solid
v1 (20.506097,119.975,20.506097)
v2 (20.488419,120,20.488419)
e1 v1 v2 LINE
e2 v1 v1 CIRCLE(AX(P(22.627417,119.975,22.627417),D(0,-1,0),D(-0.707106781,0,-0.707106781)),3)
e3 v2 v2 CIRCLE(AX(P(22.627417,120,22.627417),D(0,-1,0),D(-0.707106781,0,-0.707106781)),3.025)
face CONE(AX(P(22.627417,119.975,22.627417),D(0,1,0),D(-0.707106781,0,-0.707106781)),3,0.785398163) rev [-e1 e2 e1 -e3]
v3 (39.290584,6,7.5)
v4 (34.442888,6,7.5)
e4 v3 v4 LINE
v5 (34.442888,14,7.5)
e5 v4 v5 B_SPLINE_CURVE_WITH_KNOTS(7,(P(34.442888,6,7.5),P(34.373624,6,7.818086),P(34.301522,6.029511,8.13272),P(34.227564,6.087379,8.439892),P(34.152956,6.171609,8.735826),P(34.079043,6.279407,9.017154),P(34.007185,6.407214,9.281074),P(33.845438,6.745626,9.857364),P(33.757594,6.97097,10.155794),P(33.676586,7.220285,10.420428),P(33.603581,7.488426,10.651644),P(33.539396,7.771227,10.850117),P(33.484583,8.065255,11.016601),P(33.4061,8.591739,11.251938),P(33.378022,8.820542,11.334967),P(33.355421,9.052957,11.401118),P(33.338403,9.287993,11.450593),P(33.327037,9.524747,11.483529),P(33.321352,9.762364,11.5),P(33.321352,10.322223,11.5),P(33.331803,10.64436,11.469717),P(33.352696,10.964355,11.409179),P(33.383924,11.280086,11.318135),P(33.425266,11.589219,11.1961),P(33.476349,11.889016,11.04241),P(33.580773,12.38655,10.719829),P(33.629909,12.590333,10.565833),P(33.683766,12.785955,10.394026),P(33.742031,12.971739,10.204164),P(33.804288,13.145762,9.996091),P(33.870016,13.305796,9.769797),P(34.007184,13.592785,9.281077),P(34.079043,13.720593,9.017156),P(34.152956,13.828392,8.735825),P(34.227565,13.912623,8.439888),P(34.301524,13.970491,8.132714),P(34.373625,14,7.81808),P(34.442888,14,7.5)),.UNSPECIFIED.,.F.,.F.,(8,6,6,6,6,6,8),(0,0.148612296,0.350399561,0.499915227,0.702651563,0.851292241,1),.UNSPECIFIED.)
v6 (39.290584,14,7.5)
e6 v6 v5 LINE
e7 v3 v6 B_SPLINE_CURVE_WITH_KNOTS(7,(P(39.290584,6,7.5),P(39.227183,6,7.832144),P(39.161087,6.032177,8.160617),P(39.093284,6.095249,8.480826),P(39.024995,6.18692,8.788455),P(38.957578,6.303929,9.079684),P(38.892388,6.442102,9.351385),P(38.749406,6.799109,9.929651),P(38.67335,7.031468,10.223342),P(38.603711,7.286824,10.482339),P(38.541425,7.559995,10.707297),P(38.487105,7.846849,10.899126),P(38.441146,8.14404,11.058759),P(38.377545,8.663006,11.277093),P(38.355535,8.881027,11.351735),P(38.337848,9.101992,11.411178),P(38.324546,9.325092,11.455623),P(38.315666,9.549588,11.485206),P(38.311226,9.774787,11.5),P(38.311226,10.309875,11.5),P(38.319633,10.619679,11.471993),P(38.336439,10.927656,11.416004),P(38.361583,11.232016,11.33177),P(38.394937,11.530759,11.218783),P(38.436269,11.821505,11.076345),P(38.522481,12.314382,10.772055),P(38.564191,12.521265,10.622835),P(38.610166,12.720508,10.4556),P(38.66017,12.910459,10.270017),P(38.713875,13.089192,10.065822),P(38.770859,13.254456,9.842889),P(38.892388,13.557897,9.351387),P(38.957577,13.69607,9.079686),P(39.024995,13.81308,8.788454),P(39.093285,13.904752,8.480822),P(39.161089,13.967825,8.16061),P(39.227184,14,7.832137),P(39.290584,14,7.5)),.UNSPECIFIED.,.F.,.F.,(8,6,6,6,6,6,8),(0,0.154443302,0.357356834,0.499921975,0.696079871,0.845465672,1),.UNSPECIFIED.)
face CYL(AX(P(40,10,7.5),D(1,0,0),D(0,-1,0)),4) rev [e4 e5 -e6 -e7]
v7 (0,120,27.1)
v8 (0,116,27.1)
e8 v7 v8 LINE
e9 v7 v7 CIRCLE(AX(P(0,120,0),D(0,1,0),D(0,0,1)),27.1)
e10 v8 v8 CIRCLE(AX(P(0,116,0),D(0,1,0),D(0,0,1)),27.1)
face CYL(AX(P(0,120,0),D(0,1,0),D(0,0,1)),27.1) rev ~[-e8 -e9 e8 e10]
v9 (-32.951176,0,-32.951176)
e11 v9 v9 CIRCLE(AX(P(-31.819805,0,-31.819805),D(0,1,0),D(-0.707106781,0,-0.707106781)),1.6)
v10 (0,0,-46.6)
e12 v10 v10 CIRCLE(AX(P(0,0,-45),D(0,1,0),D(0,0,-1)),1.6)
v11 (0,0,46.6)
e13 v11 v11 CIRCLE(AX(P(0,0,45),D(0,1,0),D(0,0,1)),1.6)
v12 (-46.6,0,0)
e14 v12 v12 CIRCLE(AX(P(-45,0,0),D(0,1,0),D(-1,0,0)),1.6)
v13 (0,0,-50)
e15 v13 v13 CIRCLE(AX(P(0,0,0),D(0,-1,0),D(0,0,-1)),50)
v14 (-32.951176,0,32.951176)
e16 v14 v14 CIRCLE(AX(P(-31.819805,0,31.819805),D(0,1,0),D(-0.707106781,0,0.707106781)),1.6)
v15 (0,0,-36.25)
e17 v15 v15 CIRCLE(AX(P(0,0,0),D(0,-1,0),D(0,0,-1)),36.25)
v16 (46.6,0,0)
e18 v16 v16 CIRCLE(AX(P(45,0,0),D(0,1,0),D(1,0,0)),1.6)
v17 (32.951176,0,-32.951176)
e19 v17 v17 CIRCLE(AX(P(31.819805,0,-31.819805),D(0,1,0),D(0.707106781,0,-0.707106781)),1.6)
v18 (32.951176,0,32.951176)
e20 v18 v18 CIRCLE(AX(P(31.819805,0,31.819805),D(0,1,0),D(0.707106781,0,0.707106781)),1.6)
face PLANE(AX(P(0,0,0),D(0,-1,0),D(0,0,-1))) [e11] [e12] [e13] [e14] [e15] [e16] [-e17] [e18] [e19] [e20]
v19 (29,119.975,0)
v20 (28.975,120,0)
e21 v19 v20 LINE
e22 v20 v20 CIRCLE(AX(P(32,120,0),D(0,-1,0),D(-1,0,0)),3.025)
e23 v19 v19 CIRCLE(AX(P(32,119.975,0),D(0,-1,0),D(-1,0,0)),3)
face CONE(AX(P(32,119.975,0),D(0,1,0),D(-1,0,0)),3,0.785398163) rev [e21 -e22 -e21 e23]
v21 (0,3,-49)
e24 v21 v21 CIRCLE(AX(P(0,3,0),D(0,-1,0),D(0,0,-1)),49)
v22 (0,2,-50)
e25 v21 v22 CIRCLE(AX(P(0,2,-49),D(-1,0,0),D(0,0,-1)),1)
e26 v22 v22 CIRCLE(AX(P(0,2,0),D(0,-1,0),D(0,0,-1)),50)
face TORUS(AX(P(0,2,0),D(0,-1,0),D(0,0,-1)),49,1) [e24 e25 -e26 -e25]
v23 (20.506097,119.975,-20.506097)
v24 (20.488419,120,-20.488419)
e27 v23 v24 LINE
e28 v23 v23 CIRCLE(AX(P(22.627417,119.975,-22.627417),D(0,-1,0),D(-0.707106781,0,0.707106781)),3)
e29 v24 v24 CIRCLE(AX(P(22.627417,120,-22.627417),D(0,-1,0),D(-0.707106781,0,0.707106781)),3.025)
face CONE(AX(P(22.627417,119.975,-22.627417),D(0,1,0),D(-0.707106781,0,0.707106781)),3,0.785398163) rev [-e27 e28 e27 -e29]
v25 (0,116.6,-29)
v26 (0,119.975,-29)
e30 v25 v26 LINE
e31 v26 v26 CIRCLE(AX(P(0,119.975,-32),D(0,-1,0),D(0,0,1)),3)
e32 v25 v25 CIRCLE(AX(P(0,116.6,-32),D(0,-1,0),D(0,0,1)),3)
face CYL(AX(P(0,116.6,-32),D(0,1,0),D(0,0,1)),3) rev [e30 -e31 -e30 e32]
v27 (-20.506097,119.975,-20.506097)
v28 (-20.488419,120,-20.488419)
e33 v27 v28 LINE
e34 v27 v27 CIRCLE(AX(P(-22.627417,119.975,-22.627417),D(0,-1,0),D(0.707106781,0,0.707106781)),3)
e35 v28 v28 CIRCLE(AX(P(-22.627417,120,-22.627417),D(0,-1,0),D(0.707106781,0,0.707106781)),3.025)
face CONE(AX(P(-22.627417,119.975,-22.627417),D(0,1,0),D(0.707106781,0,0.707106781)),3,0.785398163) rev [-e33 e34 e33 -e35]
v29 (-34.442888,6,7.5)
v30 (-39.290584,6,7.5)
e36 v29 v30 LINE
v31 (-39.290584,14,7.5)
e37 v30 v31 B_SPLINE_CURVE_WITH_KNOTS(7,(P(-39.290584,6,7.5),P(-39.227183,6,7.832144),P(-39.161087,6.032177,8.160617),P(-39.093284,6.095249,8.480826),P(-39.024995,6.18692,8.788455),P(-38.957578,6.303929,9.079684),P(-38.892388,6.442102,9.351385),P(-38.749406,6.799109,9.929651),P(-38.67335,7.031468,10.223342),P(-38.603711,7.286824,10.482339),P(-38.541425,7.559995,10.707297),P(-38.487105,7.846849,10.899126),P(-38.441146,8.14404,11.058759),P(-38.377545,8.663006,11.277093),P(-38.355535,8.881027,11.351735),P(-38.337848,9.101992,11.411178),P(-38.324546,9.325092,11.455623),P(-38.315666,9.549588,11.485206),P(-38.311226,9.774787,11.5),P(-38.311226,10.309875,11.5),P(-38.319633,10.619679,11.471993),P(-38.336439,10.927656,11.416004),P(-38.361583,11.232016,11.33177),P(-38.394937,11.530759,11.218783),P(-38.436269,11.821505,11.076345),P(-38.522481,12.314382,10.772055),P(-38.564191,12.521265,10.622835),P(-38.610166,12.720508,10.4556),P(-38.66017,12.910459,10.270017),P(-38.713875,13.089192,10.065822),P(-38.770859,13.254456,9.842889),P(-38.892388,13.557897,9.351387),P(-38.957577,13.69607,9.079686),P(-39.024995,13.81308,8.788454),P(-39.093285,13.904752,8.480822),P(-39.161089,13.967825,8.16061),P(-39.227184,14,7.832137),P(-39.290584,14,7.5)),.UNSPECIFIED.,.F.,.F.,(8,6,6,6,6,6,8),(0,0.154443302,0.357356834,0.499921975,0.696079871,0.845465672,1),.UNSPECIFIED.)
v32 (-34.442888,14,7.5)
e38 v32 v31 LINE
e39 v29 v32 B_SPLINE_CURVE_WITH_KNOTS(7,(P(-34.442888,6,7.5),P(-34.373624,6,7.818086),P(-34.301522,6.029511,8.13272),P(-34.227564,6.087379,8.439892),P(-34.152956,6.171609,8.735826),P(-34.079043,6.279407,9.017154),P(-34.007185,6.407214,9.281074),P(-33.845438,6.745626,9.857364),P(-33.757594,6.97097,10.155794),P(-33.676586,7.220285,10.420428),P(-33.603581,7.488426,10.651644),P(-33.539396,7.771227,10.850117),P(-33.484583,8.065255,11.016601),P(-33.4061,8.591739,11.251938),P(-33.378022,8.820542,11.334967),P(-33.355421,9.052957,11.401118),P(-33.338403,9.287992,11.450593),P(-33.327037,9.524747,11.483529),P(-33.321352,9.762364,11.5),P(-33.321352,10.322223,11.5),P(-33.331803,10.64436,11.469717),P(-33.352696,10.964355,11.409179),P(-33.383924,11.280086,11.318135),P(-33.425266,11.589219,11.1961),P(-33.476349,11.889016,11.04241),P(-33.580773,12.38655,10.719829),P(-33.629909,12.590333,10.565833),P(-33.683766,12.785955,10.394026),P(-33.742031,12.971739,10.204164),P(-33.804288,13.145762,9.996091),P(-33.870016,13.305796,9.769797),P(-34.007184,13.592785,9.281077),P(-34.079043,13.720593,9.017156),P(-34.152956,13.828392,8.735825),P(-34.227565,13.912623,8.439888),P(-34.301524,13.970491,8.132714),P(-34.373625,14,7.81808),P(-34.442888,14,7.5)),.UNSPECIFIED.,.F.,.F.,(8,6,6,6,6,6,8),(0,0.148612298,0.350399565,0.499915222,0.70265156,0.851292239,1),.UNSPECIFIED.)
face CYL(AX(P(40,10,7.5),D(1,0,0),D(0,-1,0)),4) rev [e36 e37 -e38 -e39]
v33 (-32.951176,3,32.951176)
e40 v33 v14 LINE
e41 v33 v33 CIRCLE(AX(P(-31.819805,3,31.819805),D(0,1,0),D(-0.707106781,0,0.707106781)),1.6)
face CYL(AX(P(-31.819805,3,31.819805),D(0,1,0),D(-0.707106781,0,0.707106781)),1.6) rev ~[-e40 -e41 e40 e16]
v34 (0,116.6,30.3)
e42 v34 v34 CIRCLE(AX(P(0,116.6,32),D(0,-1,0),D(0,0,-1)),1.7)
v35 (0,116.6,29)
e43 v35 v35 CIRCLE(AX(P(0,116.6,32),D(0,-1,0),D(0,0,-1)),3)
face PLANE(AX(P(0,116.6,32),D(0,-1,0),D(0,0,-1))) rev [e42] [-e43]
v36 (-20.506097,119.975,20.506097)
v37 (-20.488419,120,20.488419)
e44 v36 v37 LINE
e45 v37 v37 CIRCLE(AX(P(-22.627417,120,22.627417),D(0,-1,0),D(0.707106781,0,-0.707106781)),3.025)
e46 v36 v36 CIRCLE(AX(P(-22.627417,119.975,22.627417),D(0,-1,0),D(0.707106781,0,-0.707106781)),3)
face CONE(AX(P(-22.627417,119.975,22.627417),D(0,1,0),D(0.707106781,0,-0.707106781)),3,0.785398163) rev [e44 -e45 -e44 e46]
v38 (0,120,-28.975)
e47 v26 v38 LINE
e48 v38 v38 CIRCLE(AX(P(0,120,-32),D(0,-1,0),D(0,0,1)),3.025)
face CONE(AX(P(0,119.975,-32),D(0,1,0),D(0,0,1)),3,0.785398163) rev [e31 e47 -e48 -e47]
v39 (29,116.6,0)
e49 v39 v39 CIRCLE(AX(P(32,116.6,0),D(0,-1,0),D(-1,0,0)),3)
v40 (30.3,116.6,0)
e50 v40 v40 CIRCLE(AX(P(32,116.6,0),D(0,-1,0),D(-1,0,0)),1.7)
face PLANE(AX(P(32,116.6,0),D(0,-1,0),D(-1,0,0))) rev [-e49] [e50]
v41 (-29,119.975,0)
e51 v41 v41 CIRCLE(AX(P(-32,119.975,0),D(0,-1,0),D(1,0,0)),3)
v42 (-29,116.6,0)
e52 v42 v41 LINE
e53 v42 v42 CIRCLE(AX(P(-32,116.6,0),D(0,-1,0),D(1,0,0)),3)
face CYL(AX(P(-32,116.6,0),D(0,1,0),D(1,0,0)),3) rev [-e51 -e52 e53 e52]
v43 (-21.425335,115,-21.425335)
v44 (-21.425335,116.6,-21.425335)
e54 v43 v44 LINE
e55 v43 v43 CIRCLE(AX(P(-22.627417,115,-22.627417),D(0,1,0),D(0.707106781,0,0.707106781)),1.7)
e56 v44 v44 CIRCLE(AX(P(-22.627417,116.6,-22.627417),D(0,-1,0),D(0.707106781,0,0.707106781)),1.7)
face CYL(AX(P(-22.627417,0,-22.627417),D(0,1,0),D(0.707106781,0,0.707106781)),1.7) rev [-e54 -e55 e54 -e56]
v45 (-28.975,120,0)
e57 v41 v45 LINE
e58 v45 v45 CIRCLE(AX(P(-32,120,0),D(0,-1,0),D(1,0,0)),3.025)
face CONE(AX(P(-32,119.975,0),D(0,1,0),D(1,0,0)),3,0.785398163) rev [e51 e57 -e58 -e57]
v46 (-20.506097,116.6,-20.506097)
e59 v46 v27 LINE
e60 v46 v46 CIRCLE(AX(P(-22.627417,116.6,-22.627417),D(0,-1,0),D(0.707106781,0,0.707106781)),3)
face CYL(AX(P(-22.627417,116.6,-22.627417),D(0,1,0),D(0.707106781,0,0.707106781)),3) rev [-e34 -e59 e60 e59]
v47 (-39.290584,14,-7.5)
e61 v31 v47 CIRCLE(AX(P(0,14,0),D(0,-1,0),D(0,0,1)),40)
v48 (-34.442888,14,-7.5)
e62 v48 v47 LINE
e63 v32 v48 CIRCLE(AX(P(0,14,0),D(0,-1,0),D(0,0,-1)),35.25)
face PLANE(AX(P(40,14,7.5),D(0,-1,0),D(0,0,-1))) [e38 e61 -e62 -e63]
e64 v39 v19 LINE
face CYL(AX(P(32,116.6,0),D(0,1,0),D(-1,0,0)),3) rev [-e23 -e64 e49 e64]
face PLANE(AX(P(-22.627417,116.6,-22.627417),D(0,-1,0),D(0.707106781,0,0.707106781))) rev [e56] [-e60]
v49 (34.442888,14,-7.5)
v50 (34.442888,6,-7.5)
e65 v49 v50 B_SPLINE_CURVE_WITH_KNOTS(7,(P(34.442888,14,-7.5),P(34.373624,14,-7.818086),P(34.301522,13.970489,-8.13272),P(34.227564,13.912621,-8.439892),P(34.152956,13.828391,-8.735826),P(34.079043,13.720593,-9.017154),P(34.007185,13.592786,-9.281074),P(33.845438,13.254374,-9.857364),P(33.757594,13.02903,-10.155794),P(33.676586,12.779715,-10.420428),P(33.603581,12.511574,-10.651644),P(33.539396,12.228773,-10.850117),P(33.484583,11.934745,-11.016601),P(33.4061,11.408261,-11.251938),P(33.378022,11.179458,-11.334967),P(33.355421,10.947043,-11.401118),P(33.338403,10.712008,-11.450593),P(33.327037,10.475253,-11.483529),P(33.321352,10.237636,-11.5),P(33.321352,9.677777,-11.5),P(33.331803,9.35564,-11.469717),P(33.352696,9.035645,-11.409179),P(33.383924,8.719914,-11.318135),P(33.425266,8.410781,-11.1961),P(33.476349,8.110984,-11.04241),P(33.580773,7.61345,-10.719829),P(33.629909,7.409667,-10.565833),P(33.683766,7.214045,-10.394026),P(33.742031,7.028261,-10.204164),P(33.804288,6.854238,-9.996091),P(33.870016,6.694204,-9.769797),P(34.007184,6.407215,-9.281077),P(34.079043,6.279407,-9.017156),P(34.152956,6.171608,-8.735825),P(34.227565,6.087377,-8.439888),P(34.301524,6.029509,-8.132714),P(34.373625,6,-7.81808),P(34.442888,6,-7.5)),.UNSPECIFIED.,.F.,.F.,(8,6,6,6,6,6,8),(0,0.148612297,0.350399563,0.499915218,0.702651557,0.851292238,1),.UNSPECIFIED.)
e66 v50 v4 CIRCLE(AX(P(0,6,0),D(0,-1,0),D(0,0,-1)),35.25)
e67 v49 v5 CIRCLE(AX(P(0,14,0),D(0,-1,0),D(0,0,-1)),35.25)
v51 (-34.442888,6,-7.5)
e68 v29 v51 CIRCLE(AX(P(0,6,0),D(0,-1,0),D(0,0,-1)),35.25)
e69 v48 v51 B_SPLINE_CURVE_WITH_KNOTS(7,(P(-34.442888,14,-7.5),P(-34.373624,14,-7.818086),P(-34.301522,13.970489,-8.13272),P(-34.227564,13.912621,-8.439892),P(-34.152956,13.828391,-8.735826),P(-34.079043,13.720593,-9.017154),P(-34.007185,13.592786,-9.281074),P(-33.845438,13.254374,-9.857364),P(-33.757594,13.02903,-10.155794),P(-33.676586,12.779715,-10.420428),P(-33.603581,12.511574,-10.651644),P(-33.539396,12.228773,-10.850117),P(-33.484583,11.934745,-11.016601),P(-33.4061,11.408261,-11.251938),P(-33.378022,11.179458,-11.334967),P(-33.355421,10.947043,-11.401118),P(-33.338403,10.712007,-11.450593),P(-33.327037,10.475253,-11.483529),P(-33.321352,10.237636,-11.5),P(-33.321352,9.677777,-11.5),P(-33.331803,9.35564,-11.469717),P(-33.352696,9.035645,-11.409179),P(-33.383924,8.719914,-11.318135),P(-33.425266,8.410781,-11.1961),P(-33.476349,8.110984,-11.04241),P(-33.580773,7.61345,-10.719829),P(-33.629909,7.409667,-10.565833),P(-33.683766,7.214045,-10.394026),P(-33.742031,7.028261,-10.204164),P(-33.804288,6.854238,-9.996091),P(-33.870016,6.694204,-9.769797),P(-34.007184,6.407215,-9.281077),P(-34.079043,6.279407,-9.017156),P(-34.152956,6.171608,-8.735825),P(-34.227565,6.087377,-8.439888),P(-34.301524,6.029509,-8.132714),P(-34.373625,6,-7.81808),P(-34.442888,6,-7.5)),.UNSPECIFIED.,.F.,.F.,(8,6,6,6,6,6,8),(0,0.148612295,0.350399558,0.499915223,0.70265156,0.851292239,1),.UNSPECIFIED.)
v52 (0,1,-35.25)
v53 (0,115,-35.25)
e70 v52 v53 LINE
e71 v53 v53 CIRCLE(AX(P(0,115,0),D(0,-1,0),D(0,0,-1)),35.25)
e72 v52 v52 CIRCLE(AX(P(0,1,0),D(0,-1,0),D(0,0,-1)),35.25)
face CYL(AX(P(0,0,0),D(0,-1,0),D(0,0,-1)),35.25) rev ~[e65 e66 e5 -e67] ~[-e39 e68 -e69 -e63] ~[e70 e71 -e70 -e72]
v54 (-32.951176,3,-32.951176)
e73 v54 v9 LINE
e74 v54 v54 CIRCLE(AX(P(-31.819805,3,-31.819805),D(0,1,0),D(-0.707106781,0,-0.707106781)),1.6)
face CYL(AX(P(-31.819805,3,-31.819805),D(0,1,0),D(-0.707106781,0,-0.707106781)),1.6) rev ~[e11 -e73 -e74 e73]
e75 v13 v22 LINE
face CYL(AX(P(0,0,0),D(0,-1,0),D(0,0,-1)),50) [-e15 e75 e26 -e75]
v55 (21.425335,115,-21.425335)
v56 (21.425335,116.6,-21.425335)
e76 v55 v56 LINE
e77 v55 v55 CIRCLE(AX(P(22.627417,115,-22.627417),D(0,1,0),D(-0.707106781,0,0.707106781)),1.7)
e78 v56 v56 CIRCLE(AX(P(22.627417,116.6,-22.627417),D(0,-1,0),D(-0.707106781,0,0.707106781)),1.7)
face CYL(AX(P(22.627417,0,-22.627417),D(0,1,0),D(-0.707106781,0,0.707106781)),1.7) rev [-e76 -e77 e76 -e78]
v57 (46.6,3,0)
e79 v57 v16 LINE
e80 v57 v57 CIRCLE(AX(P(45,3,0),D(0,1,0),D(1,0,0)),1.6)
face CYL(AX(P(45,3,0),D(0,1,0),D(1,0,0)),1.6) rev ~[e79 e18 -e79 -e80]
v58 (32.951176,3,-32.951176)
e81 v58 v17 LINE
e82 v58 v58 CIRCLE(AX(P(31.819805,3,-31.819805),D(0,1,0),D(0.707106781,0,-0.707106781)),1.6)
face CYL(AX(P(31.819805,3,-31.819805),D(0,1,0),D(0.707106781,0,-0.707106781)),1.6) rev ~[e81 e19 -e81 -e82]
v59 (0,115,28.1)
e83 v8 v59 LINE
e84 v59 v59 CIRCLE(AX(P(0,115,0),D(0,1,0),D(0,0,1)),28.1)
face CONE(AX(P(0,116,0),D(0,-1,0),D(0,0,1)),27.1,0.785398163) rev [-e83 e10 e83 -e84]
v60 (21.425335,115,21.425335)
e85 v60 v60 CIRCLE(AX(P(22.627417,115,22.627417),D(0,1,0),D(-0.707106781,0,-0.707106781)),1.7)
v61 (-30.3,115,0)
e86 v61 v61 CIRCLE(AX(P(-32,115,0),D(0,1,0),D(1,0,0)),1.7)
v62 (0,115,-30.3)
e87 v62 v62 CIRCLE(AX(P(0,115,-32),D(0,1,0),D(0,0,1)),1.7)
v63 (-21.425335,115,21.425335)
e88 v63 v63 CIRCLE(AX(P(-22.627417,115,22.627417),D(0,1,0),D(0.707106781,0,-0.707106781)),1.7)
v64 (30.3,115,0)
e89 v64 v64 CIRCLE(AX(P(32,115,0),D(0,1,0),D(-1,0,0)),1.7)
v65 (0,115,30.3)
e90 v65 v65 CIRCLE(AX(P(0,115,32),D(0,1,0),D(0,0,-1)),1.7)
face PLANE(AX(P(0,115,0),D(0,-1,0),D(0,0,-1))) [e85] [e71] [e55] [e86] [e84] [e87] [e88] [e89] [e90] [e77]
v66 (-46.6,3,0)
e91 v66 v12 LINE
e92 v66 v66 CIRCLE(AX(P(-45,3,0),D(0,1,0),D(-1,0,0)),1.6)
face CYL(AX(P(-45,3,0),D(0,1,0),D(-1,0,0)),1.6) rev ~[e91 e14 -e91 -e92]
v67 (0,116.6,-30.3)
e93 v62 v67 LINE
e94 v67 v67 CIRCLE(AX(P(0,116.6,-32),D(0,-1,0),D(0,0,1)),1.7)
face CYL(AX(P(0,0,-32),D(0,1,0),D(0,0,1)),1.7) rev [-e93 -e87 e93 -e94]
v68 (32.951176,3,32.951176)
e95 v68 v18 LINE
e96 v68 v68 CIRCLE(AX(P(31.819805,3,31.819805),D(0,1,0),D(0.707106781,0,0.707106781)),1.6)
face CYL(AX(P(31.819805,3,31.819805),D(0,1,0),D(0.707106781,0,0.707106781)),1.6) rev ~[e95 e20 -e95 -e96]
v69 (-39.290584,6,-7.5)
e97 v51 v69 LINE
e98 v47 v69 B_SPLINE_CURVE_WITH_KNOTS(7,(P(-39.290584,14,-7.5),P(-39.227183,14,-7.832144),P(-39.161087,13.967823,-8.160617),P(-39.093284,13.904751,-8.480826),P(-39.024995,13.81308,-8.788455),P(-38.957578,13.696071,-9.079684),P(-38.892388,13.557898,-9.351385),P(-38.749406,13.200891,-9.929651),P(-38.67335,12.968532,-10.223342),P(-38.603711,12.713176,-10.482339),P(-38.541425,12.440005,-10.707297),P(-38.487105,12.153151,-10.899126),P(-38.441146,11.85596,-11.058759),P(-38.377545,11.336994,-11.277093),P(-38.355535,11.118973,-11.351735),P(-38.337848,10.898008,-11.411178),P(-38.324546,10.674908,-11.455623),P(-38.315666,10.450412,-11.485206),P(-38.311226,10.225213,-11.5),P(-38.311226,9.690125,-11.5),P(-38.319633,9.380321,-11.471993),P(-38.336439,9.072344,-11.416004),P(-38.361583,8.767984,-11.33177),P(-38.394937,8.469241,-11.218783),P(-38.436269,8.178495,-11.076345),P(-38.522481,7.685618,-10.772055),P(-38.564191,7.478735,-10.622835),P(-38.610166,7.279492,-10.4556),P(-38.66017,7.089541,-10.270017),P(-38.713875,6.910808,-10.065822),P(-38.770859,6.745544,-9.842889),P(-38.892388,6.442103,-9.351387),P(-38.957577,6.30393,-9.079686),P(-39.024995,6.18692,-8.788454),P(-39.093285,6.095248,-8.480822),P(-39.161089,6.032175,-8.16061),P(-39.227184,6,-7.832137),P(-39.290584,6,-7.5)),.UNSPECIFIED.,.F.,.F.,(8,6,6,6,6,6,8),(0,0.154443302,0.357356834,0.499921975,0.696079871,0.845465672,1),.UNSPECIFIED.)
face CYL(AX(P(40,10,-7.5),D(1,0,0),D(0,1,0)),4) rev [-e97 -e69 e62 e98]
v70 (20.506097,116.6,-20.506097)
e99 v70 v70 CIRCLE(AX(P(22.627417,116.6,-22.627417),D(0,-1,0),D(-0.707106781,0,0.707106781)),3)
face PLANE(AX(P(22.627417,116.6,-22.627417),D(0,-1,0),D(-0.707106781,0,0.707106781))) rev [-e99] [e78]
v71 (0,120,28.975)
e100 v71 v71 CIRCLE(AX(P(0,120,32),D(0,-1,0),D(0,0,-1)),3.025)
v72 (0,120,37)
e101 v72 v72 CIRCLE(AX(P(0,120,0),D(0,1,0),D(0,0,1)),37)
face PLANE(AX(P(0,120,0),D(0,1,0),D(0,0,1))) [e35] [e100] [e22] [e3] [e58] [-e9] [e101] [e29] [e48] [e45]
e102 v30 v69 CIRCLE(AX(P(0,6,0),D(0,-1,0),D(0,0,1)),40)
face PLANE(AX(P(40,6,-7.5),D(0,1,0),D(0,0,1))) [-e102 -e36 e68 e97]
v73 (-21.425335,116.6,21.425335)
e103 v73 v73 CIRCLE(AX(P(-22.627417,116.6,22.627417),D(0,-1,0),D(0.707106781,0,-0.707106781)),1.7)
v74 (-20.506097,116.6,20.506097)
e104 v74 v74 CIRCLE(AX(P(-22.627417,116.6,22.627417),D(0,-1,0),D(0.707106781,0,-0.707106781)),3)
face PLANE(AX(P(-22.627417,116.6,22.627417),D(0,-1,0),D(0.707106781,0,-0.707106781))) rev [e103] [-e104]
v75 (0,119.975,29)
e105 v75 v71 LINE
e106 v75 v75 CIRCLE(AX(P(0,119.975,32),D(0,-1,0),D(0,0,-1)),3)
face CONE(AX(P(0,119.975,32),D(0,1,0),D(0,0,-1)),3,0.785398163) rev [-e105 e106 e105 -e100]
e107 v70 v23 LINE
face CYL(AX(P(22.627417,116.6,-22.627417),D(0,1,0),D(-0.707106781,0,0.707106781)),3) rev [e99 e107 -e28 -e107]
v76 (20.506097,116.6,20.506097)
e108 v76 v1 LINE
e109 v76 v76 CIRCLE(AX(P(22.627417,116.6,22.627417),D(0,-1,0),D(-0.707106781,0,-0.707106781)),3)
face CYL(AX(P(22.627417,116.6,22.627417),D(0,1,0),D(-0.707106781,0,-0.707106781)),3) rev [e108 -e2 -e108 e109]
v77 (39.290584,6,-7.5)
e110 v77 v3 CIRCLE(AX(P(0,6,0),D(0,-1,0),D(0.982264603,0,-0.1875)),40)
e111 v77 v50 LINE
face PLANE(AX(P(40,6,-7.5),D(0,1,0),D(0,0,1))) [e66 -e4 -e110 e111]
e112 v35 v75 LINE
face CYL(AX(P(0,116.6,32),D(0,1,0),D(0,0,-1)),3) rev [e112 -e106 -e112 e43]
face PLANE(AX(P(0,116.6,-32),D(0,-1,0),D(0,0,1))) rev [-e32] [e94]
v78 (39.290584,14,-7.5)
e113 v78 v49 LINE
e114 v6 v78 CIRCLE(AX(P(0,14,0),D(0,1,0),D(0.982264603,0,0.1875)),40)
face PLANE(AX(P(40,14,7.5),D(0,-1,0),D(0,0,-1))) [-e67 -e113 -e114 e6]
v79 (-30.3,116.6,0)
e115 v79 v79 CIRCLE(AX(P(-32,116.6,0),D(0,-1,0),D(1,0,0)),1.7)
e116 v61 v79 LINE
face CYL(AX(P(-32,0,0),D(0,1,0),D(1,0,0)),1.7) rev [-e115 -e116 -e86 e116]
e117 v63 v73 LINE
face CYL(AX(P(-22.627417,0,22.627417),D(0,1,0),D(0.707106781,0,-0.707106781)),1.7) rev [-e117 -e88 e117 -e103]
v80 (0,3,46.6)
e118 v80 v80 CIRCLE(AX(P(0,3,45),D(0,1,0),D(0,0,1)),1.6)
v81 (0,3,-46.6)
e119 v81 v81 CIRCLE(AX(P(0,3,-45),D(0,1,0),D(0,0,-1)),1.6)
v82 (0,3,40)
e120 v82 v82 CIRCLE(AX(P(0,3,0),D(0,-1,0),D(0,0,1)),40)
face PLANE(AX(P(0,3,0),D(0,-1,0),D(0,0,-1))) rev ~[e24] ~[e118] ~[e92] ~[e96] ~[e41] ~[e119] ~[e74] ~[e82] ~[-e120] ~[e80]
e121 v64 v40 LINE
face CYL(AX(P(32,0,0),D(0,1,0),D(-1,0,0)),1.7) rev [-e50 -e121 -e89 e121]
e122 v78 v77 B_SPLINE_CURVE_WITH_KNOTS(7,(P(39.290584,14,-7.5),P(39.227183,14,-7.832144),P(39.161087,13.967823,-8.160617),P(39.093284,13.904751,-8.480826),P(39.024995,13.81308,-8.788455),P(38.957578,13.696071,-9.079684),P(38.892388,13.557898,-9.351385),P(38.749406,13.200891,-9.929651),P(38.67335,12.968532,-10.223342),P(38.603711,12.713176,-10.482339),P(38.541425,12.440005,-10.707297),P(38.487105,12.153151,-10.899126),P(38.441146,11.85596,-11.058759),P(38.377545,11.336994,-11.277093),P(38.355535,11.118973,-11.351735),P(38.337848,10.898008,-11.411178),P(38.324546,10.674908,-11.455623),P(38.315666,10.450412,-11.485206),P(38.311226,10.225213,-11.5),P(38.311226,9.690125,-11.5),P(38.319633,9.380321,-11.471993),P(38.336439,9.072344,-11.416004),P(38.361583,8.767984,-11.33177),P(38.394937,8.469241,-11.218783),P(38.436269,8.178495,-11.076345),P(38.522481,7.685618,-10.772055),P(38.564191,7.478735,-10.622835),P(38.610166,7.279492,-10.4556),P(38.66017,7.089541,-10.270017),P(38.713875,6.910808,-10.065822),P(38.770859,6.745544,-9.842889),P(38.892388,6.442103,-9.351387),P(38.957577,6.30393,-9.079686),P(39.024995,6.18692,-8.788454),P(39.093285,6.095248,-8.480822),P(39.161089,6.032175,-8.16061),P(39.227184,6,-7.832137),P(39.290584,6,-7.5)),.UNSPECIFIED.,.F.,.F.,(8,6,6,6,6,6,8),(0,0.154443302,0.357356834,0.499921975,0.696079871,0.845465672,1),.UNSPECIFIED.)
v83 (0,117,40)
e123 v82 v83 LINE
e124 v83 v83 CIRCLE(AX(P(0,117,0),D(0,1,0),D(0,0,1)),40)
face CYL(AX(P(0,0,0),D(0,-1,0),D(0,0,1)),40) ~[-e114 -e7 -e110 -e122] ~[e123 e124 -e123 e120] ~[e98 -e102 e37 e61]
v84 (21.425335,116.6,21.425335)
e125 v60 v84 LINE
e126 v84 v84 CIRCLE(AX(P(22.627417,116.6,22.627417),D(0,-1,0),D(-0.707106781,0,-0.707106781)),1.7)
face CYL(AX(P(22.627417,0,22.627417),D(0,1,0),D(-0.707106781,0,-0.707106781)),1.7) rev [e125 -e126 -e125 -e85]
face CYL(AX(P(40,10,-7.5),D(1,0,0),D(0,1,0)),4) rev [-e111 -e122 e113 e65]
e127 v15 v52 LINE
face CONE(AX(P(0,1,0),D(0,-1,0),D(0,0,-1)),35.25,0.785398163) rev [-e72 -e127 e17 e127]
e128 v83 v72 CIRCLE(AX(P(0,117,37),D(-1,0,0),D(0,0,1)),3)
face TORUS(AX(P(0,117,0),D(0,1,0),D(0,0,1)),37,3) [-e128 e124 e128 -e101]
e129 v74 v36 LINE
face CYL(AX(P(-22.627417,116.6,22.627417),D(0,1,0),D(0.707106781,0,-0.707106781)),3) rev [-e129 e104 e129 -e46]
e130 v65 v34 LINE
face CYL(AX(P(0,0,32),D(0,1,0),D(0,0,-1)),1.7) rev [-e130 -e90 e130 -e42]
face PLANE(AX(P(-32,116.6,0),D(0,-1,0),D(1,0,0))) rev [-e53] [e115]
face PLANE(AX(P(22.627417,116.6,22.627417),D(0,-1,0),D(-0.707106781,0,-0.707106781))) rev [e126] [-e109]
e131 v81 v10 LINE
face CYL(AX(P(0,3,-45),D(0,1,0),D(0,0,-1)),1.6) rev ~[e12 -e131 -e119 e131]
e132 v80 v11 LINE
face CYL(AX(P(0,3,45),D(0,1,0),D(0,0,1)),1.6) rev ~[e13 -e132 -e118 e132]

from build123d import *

# Parameters (mm, degrees)
SKETCH_1_R               = 40
EXTRUDE_1_DEPTH          = 120
SKETCH_2_R               = 35.25
CUT_EXTRUDE_1_DEPTH      = 115
SKETCH_3_R               = 27.1
CUT_EXTRUDE_2_DEPTH      = 133.664991614
PATTERN_CIRCULAR_1_COUNT = 8
SKETCH_7_R               = 50
SKETCH_7_R_2             = 40
EXTRUDE_2_DEPTH          = 3
SKETCH_8_R               = 1.6
CUT_EXTRUDE_3_DEPTH      = 137.707717412
PATTERN_CIRCULAR_2_COUNT = 8
FILLET_1_R               = 3
CHAMFER_1_SIZE           = 1
FILLET_2_R               = 1
CUT_EXTRUDE_4_DEPTH      = 159.11388304


with BuildPart() as part:
    # 草图1 → 凸台-拉伸1 (new body)
    with BuildSketch(Plane(origin=(0, 0, 0), x_dir=(1, 0, 0), z_dir=(0, 1, 0))):
        with Locations(Location((0, 0, 0), (0, 0, 270))):
            Circle(SKETCH_1_R)
    extrude(amount=EXTRUDE_1_DEPTH)

    # 草图2 → 切除-拉伸1 (cut)
    with BuildSketch(Plane.XZ):
        with Locations(Location((0, 0, 0), (0, 0, 270))):
            Circle(SKETCH_2_R)
    extrude(amount=-CUT_EXTRUDE_1_DEPTH, mode=Mode.SUBTRACT)

    # 草图3 → 切除-拉伸2 (cut, through all)
    with BuildSketch(Plane(origin=(0, 120, 0), x_dir=(1, 0, 0), z_dir=(0, 1, 0))):
        with Locations(Location((0, 0, 0), (0, 0, 270))):
            Circle(SKETCH_3_R)
    extrude(amount=-CUT_EXTRUDE_2_DEPTH, mode=Mode.SUBTRACT)

    # 草图6 → 打孔尺寸(%根据)内六角圆柱头螺钉的类型1 (revolve, cut)
    with BuildSketch(Plane(origin=(0, 120, -32), x_dir=(0, 0, 1), z_dir=(1, 0, 0))):
        Polygon((0, 0), (0, 120), (1.7, 120), (1.7, 3.4), (3, 3.4), (3, 0.025), (3.025, 0), align=None)
    hole_wizard_1 = revolve(axis=Axis((0, 126.35, -32), (0, -1, 0)), mode=Mode.SUBTRACT)

    # 阵列(圆周)1: 打孔尺寸(%根据)内六角圆柱头螺钉的类型1 ×8 about axis
    pattern_circular_1_axis = Axis((0, 0, 0), (0, 1, 0))
    for i in range(1, PATTERN_CIRCULAR_1_COUNT):
        add(hole_wizard_1.rotate(pattern_circular_1_axis, i * 360 / PATTERN_CIRCULAR_1_COUNT), mode=Mode.SUBTRACT)

    # 草图7 → 凸台-拉伸2 (add)
    with BuildSketch(Plane.XZ):
        with Locations(Location((0, 0, 0), (0, 0, 270))):
            Circle(SKETCH_7_R)
        with Locations(Location((0, 0, 0), (0, 0, 270))):
            Circle(SKETCH_7_R_2, mode=Mode.SUBTRACT)
    extrude(amount=-EXTRUDE_2_DEPTH)

    # 草图8 → 切除-拉伸3 (cut, through all)
    with BuildSketch(Plane(origin=(0, 3, 0), x_dir=(1, 0, 0), z_dir=(0, 1, 0))):
        with Locations(Location((0, -45, 0), (0, 0, 270))):
            Circle(SKETCH_8_R)
    cut_extrude_3 = extrude(amount=-CUT_EXTRUDE_3_DEPTH, mode=Mode.SUBTRACT)

    # 阵列(圆周)2: 切除-拉伸3 ×8 about axis
    pattern_circular_2_axis = Axis((0, 0, 0), (0, 1, 0))
    for i in range(1, PATTERN_CIRCULAR_2_COUNT):
        add(cut_extrude_3.rotate(pattern_circular_2_axis, i * 360 / PATTERN_CIRCULAR_2_COUNT), mode=Mode.SUBTRACT)

    # 圆角1
    fillet_1_edges = [part.edges().sort_by_distance(p)[0] for p in [
        (0, 120, -40),
    ]]
    fillet(fillet_1_edges, radius=FILLET_1_R)

    # 倒角1
    chamfer_1_edges = [part.edges().sort_by_distance(p)[0] for p in [
        (0, 115, -27.1),
        (0, 0, 35.25),
    ]]
    chamfer(chamfer_1_edges, length=CHAMFER_1_SIZE)

    # 圆角2
    fillet_2_edges = [part.edges().sort_by_distance(p)[0] for p in [
        (0, 3, 50),
    ]]
    fillet(fillet_2_edges, radius=FILLET_2_R)

    # 草图9 → 切除-拉伸4 (cut, through all)
    with BuildSketch(Plane(origin=(40, 0, 0), x_dir=(0, 0, -1), z_dir=(1, 0, 0))):
        with BuildLine():
            Line((-7.5, 14), (7.5, 14))
            ThreePointArc((7.5, 14), (11.5, 10), (7.5, 6))
            Line((7.5, 6), (-7.5, 6))
            ThreePointArc((-7.5, 6), (-11.5, 10), (-7.5, 14))
        make_face()
    extrude(amount=-CUT_EXTRUDE_4_DEPTH, mode=Mode.SUBTRACT)


solid = part.part
